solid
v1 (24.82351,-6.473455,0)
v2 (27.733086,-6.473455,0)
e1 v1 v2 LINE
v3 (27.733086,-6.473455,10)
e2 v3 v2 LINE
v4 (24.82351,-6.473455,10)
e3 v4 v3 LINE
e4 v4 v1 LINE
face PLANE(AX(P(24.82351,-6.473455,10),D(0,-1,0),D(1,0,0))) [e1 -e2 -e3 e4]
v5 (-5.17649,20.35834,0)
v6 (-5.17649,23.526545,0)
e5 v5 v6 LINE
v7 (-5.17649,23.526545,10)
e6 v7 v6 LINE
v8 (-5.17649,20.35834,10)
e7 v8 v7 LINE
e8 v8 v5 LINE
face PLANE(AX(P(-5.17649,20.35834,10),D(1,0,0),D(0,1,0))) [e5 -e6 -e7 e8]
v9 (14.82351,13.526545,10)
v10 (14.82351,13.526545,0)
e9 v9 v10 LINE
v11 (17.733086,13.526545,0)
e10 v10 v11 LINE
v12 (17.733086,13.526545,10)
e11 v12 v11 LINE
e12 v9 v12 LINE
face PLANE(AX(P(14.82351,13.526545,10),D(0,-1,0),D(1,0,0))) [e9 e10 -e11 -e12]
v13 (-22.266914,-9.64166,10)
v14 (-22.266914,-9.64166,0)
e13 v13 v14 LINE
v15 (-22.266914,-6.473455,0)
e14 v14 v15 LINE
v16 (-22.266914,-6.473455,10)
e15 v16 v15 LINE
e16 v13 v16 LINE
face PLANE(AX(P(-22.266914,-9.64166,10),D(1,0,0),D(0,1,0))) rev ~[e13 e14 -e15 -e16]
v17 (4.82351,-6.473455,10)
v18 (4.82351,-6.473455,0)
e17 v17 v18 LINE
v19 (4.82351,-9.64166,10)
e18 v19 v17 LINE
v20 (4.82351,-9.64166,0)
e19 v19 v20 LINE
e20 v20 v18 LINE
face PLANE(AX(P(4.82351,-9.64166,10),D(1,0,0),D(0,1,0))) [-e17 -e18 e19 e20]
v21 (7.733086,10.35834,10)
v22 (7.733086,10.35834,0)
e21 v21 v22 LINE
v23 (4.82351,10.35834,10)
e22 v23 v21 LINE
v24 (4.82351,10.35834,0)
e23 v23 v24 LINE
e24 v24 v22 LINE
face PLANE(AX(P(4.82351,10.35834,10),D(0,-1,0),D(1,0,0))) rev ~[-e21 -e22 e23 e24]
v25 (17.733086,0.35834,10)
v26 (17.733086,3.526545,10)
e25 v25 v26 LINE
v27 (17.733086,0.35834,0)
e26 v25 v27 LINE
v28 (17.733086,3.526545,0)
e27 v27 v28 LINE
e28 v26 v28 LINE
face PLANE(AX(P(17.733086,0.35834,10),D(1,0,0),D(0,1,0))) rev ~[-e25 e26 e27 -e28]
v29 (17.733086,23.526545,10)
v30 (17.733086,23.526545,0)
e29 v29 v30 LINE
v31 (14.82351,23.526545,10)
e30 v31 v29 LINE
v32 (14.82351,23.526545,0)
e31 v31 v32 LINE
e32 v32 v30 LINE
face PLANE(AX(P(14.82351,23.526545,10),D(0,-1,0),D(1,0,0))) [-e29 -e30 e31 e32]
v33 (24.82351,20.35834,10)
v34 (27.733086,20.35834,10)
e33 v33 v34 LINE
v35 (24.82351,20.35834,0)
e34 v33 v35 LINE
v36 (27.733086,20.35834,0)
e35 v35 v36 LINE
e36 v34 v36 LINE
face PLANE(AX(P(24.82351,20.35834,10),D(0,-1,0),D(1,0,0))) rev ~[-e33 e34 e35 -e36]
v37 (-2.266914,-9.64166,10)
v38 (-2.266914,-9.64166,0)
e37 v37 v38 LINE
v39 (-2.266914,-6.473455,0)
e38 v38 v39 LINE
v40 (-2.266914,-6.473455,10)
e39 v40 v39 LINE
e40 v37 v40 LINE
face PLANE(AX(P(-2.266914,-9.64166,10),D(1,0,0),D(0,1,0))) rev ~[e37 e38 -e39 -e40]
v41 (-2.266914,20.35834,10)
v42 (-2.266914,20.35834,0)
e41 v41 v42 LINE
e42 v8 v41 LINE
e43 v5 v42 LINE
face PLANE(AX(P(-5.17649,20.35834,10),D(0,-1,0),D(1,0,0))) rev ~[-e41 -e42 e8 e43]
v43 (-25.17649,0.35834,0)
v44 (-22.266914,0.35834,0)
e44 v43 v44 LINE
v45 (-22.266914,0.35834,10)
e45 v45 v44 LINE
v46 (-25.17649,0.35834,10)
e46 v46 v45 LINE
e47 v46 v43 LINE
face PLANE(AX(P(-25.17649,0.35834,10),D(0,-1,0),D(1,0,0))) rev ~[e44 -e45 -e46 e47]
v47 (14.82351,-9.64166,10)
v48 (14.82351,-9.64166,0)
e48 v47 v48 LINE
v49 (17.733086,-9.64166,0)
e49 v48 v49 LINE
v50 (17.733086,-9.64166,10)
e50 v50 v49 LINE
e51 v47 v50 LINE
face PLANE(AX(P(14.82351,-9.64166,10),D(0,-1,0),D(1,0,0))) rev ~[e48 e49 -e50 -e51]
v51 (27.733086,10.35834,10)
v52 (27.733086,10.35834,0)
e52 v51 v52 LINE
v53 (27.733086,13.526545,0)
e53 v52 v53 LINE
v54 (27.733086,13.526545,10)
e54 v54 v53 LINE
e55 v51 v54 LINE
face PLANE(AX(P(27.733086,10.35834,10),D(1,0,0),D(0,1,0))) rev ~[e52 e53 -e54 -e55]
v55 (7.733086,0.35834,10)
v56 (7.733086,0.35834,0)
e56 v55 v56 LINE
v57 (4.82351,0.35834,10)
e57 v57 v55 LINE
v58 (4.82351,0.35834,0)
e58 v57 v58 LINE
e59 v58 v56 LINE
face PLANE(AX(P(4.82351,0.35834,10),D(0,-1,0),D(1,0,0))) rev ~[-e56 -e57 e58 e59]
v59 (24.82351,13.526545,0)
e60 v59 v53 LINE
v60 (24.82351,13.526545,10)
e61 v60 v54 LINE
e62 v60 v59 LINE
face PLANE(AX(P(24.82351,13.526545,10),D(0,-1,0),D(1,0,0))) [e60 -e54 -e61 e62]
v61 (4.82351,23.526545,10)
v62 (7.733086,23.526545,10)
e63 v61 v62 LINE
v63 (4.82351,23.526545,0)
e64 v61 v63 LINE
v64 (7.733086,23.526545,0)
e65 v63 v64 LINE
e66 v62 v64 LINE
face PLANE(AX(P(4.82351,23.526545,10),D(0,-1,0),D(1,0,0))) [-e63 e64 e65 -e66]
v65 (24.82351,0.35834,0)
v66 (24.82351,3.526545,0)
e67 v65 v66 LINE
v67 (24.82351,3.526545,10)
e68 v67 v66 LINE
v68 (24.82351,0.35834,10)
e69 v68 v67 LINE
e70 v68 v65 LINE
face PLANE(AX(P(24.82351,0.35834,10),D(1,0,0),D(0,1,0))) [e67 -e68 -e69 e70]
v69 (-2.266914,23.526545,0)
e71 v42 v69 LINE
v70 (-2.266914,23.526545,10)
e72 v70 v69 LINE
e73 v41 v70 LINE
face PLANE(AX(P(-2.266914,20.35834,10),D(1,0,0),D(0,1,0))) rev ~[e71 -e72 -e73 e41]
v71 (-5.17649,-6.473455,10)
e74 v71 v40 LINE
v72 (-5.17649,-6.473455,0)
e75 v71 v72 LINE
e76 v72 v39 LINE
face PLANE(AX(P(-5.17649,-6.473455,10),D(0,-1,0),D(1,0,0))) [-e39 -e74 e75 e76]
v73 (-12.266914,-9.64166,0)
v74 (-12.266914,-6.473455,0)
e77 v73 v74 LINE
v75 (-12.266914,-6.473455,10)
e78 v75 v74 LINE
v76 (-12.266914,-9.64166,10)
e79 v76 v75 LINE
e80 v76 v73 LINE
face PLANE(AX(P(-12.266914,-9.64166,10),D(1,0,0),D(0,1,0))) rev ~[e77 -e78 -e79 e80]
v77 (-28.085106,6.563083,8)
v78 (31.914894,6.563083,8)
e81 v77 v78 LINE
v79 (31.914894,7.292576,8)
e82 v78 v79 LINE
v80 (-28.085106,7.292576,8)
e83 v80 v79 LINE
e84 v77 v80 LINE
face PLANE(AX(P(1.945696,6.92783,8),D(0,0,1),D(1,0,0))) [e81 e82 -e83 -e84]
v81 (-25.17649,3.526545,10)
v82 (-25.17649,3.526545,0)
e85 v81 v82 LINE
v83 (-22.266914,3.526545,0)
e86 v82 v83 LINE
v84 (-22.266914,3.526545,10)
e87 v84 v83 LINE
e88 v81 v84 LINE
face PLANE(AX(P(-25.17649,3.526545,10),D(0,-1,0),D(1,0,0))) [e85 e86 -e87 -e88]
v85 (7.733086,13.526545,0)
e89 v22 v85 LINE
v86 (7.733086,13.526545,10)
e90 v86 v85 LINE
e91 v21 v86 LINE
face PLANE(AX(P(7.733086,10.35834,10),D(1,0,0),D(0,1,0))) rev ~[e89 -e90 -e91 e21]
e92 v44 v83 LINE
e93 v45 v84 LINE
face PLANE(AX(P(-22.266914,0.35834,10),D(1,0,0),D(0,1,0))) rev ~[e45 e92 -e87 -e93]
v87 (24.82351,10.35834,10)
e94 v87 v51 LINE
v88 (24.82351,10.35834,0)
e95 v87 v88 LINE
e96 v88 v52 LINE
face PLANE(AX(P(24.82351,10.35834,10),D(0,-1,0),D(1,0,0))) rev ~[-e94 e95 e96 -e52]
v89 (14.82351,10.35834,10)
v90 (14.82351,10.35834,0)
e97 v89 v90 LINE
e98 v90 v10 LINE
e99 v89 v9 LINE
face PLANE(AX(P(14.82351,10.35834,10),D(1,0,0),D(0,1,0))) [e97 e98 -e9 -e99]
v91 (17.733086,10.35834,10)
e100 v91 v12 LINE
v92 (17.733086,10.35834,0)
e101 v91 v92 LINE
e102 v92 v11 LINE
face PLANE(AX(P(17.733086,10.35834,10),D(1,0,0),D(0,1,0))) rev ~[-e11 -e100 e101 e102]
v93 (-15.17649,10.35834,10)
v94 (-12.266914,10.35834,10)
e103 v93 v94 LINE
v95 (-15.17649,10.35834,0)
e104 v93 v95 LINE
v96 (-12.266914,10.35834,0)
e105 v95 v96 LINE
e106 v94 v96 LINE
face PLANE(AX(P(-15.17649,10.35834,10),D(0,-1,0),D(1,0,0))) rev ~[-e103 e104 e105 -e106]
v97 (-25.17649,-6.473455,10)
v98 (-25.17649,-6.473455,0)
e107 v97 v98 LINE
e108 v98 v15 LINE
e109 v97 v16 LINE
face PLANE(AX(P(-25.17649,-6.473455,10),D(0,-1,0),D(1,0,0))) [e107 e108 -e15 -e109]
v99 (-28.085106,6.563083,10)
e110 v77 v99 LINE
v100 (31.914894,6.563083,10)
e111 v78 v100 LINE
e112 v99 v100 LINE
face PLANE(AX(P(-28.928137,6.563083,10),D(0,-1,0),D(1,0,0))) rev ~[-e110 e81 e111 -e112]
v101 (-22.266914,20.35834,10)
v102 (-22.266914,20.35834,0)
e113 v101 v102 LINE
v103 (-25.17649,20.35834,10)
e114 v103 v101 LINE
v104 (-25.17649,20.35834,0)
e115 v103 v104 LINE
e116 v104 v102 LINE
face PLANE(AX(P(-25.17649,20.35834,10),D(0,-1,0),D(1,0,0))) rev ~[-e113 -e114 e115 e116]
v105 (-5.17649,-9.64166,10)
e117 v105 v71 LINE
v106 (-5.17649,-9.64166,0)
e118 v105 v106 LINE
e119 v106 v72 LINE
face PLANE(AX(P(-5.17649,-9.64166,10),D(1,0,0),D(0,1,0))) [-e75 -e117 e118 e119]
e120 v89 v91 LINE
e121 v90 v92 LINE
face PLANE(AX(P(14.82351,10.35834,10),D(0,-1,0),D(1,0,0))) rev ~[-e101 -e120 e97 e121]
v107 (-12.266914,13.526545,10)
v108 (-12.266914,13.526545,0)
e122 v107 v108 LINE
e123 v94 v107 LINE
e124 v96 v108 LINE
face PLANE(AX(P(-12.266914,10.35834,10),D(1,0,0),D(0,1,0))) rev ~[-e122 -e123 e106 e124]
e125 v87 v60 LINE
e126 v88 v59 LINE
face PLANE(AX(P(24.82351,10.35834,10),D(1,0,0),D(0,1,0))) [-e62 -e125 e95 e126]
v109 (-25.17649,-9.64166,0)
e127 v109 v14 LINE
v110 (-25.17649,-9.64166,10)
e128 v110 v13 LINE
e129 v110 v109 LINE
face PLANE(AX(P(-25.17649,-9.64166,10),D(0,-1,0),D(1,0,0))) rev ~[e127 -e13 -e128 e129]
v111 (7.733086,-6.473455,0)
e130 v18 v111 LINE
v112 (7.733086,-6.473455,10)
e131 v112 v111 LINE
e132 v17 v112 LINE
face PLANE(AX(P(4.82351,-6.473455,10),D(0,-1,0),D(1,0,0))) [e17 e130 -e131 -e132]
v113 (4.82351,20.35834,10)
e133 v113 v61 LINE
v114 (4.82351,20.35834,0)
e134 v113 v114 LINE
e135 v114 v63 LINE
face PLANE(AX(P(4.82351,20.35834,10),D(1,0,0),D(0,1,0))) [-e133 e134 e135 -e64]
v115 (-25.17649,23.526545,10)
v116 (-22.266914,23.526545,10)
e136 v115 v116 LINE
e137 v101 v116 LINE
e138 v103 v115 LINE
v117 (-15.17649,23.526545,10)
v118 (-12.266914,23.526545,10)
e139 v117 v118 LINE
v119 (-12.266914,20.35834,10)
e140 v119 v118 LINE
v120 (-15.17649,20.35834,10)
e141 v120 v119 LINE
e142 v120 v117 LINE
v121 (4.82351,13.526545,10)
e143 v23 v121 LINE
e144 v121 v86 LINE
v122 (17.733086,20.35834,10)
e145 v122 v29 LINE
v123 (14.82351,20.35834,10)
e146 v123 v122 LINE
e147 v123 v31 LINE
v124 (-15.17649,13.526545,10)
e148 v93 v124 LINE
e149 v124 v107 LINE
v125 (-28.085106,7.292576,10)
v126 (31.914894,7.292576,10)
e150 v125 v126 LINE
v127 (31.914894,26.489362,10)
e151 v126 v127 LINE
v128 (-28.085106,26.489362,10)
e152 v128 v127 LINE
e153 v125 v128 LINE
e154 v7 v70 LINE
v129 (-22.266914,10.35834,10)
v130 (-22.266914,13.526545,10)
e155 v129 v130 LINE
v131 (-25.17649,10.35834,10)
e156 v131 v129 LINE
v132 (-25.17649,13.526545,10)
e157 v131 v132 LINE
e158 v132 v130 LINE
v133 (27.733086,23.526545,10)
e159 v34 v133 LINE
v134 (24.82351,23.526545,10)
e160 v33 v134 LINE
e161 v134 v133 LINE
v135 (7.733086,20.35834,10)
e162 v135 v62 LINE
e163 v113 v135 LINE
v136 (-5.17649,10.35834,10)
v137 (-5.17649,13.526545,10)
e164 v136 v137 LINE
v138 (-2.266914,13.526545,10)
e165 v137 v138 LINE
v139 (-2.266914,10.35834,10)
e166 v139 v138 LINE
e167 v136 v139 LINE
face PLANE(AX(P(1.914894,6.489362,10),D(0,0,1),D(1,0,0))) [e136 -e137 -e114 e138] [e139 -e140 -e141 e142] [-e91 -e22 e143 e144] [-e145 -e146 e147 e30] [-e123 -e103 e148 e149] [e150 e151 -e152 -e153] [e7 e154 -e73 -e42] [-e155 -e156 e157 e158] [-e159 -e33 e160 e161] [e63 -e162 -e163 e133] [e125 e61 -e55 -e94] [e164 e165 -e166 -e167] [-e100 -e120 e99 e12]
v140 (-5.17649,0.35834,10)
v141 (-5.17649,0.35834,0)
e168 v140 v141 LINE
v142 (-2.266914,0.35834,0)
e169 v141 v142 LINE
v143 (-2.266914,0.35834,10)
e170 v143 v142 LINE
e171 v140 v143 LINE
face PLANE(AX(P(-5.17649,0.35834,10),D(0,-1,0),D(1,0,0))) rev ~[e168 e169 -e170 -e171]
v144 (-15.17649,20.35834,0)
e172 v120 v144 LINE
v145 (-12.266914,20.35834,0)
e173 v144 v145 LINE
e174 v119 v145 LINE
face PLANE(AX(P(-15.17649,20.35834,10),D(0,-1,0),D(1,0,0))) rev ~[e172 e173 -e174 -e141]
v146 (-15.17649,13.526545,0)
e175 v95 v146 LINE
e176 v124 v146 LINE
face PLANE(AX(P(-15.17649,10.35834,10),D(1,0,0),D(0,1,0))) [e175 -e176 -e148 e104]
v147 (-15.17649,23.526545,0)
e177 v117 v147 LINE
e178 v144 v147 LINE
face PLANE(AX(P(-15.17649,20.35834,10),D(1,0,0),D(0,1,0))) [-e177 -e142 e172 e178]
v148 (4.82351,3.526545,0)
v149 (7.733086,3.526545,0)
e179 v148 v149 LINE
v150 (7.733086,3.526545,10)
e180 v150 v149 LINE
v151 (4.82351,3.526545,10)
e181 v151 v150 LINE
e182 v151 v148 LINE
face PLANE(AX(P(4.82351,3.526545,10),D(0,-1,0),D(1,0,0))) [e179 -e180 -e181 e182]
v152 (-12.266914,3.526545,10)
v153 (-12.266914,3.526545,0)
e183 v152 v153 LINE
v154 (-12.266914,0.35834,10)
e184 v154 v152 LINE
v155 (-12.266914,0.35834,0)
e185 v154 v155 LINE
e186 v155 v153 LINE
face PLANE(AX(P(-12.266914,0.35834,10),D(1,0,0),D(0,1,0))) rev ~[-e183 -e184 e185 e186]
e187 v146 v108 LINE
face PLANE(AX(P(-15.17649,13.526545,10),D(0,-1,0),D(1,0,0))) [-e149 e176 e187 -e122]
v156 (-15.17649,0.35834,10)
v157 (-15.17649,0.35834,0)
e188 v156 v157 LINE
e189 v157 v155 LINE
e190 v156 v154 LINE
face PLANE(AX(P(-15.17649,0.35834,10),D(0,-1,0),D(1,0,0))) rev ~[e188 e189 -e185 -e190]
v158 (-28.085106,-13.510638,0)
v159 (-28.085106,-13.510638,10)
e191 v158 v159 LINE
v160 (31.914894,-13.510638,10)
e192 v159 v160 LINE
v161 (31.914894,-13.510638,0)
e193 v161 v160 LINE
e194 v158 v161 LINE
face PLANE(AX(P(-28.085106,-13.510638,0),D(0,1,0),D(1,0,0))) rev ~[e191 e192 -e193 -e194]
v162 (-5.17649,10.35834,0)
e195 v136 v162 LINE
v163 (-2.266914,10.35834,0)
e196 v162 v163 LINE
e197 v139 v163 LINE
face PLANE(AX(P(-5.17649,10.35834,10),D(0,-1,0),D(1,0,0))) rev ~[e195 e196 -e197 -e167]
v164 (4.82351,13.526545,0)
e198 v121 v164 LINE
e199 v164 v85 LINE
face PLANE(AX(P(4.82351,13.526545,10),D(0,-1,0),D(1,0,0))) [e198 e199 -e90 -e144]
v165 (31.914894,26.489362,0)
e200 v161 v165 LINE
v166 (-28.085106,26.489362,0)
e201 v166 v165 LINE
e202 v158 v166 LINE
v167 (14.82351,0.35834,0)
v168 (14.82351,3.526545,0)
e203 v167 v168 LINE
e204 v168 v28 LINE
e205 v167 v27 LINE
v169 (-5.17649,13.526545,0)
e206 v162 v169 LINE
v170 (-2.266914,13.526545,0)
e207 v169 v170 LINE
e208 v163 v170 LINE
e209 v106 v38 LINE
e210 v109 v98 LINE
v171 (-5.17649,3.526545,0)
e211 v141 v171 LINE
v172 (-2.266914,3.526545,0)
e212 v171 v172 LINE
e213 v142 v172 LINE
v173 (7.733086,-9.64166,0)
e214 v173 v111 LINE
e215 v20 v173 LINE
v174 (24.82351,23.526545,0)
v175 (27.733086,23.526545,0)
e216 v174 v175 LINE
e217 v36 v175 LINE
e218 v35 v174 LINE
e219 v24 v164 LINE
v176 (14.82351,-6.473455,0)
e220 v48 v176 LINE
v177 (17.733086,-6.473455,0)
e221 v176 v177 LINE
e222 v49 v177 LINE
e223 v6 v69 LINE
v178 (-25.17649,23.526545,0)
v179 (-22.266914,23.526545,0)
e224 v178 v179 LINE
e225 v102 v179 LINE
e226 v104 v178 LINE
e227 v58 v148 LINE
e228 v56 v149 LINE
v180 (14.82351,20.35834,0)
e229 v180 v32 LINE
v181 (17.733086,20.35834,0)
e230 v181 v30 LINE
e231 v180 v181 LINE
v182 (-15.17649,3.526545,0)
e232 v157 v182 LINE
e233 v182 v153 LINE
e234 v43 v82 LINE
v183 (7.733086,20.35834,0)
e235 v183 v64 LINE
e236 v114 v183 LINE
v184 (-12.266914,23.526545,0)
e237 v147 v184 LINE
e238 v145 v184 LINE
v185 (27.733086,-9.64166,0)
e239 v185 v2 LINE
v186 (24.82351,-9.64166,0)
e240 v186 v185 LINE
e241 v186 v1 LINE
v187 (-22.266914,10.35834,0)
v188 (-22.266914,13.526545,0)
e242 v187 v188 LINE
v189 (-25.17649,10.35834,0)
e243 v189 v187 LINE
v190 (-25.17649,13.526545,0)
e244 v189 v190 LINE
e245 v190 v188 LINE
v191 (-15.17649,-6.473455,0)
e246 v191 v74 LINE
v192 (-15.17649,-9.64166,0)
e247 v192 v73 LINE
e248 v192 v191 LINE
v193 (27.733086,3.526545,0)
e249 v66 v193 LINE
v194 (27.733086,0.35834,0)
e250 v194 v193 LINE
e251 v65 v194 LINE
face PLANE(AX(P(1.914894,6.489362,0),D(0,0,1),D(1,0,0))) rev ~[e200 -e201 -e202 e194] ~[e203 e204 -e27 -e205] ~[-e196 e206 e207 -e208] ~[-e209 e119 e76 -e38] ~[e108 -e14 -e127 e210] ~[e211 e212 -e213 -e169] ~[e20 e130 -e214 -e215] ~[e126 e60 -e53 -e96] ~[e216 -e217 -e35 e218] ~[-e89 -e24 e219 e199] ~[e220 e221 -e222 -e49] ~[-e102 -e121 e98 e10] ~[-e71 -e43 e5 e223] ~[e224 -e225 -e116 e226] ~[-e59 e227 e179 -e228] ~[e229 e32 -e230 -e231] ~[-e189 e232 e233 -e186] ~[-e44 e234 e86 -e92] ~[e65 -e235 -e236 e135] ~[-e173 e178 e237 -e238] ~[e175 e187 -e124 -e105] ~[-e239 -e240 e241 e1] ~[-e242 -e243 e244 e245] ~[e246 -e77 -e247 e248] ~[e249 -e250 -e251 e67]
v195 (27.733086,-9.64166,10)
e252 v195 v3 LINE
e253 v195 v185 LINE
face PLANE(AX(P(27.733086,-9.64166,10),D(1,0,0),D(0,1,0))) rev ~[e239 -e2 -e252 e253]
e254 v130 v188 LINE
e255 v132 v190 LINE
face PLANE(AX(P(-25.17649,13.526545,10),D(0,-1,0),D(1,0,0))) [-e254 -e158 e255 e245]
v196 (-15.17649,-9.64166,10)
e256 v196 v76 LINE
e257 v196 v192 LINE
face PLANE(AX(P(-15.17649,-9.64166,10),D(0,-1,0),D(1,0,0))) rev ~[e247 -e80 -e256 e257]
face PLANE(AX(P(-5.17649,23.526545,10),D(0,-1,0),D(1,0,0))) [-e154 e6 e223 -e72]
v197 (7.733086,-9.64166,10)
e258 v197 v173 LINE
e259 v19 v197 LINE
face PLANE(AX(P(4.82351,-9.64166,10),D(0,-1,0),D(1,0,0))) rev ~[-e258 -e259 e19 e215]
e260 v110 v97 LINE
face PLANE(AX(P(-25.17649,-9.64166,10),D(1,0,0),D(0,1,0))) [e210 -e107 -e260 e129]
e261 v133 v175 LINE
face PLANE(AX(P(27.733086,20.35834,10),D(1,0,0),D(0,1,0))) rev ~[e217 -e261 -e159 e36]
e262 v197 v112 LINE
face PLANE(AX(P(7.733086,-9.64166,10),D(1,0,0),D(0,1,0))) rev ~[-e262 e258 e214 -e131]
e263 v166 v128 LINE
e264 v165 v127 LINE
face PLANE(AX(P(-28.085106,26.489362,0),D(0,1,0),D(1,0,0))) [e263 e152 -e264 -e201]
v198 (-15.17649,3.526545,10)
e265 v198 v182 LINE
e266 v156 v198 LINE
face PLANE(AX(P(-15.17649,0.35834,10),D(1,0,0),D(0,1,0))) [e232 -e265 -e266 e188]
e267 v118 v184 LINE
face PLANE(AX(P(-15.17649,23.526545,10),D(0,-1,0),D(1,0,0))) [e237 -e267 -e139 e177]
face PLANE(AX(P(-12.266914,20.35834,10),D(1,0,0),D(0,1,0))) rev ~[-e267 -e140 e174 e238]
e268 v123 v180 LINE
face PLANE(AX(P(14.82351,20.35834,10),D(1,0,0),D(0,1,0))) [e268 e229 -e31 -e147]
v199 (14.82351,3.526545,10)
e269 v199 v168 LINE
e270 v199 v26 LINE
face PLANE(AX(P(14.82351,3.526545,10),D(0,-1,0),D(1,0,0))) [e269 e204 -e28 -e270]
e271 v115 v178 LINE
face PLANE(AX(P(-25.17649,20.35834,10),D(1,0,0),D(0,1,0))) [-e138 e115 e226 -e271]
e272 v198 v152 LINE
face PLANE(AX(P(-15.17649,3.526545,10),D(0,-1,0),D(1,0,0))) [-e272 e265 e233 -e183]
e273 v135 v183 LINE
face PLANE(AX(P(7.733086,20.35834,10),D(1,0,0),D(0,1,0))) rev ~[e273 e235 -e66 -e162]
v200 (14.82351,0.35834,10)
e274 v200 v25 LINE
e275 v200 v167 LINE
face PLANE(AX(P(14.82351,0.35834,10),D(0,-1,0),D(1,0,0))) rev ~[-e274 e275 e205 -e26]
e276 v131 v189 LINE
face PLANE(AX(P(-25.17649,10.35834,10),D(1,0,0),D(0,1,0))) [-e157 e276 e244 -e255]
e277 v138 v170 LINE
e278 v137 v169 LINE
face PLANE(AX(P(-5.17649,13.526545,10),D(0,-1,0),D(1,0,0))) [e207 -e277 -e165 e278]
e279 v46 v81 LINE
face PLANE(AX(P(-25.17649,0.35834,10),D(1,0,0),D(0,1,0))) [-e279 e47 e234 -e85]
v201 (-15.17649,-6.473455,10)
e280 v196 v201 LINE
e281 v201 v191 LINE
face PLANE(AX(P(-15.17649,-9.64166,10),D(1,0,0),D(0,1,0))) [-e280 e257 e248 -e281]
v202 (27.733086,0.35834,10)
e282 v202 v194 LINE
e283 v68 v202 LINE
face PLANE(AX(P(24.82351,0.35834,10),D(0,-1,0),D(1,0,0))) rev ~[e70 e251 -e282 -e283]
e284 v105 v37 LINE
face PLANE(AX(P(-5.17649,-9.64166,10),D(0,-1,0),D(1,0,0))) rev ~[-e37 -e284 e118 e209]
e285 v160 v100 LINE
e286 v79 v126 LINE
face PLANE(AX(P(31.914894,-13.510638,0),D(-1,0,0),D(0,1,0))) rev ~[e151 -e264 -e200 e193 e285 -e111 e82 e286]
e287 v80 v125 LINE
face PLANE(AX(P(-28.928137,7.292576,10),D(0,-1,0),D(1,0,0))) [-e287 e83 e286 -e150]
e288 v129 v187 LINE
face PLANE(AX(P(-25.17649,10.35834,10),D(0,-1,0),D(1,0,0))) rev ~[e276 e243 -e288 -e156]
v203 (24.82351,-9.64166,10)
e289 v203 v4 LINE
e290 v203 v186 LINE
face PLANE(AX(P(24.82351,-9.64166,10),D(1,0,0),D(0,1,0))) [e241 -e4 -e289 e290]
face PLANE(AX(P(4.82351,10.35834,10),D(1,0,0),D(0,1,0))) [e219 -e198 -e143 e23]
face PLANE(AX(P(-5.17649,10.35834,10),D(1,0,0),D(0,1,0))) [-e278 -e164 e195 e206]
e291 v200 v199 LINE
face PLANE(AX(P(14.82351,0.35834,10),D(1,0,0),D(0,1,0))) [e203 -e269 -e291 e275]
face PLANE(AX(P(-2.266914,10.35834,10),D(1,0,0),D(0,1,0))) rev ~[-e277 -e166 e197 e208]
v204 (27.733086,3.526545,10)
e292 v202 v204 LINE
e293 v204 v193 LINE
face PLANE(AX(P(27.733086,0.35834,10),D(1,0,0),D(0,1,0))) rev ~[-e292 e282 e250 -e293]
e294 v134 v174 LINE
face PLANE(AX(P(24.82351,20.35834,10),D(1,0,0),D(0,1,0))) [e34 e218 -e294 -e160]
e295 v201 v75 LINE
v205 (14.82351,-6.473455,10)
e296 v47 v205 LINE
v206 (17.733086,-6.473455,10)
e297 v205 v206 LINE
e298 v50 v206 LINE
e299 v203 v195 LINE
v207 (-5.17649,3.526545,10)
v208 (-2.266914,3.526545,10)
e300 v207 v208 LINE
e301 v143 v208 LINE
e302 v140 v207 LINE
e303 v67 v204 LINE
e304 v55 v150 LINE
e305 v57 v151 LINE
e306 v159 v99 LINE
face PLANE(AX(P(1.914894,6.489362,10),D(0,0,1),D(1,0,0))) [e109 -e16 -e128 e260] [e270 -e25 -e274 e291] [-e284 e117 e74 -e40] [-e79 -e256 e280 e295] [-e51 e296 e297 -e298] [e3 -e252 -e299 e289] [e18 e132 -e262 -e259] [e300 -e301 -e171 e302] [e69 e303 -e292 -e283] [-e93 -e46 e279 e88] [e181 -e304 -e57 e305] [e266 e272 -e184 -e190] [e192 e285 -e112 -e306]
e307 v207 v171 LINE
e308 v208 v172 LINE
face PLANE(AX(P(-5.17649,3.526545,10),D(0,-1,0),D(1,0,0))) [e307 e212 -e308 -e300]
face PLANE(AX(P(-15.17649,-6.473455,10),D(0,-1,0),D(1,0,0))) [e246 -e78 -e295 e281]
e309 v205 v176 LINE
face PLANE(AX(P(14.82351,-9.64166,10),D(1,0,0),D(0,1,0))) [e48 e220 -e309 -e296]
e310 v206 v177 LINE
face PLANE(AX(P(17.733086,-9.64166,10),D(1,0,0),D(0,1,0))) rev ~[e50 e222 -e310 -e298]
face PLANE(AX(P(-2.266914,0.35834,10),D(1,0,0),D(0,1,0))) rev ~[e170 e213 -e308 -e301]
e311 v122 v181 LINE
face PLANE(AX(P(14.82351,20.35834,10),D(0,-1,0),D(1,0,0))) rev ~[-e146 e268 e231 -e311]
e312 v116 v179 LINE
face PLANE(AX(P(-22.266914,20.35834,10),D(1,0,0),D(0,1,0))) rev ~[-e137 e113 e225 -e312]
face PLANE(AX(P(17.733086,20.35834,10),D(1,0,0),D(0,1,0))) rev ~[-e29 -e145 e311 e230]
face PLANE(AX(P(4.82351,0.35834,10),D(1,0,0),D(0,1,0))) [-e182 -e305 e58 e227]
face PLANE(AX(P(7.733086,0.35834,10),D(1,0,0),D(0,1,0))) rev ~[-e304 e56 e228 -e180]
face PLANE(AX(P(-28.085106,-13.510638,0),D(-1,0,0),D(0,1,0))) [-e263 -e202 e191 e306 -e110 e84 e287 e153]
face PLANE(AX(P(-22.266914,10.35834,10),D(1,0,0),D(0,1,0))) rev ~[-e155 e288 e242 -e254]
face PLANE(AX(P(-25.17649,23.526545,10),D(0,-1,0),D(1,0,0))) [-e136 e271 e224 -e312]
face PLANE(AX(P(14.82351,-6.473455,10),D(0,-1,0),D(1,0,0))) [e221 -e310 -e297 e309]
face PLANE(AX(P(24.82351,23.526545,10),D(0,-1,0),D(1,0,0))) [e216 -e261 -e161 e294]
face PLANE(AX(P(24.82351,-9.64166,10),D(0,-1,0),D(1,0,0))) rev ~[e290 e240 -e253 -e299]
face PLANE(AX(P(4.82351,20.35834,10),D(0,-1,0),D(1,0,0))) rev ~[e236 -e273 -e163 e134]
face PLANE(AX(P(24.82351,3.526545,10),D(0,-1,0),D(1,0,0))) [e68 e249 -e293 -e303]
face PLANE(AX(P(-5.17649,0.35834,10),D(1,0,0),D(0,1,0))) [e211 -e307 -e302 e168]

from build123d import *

# Parameters (mm, degrees)
SKETCH1_W           = 60
SKETCH1_H           = 40
BOSS_EXTRUDE1_DEPTH = 10
SKETCH2_W           = 2.909575839
SKETCH2_H           = 3.168204802
CUT_EXTRUDE1_DEPTH  = 10
SKETCH3_W           = 61.747665015
SKETCH3_H           = 0.72949372
CUT_EXTRUDE2_DEPTH  = 2


with BuildPart() as part:
    # Sketch1 → Boss-Extrude1 (new body)
    with BuildSketch(Plane.XY):
        with Locations((1.914893617, 6.489361702)):
            Rectangle(SKETCH1_W, SKETCH1_H)
    extrude(amount=BOSS_EXTRUDE1_DEPTH)

    # Sketch2 → Cut-Extrude1 (cut)
    with BuildSketch(Plane.XY.offset(10)):
        with Locations((-13.721702382, 21.942442266)):
            Rectangle(SKETCH2_W, SKETCH2_H)
        with Locations((-23.721702382, 21.942442266)):
            Rectangle(SKETCH2_W, SKETCH2_H)
        with Locations((-3.721702382, 21.942442266)):
            Rectangle(SKETCH2_W, SKETCH2_H)
        with Locations((6.278297618, 21.942442266)):
            Rectangle(SKETCH2_W, SKETCH2_H)
        with Locations((16.278297619, 21.942442266)):
            Rectangle(SKETCH2_W, SKETCH2_H)
        with Locations((26.278297619, 21.942442266)):
            Rectangle(SKETCH2_W, SKETCH2_H)
        with Locations((-13.721702382, 11.942442266)):
            Rectangle(SKETCH2_W, SKETCH2_H)
        with Locations((-3.721702382, 11.942442266)):
            Rectangle(SKETCH2_W, SKETCH2_H)
        with Locations((6.278297618, 11.942442266)):
            Rectangle(SKETCH2_W, SKETCH2_H)
        with Locations((16.278297619, 11.942442266)):
            Rectangle(SKETCH2_W, SKETCH2_H)
        with Locations((26.278297619, 11.942442266)):
            Rectangle(SKETCH2_W, SKETCH2_H)
        with Locations((-13.721702382, 1.942442266)):
            Rectangle(SKETCH2_W, SKETCH2_H)
        with Locations((-3.721702382, 1.942442266)):
            Rectangle(SKETCH2_W, SKETCH2_H)
        with Locations((6.278297618, 1.942442266)):
            Rectangle(SKETCH2_W, SKETCH2_H)
        with Locations((16.278297619, 1.942442266)):
            Rectangle(SKETCH2_W, SKETCH2_H)
        with Locations((26.278297619, 1.942442266)):
            Rectangle(SKETCH2_W, SKETCH2_H)
        with Locations((-13.721702382, -8.057557734)):
            Rectangle(SKETCH2_W, SKETCH2_H)
        with Locations((-3.721702382, -8.057557734)):
            Rectangle(SKETCH2_W, SKETCH2_H)
        with Locations((6.278297618, -8.057557734)):
            Rectangle(SKETCH2_W, SKETCH2_H)
        with Locations((16.278297619, -8.057557734)):
            Rectangle(SKETCH2_W, SKETCH2_H)
        with Locations((26.278297619, -8.057557734)):
            Rectangle(SKETCH2_W, SKETCH2_H)
        with Locations((-23.721702382, 11.942442266)):
            Rectangle(SKETCH2_W, SKETCH2_H)
        with Locations((-23.721702382, 1.942442266)):
            Rectangle(SKETCH2_W, SKETCH2_H)
        with Locations((-23.721702382, -8.057557734)):
            Rectangle(SKETCH2_W, SKETCH2_H)
    extrude(amount=-CUT_EXTRUDE1_DEPTH, mode=Mode.SUBTRACT)

    # Sketch3 → Cut-Extrude2 (cut)
    with BuildSketch(Plane.XY.offset(10)):
        with Locations((1.945695922, 6.927829606)):
            Rectangle(SKETCH3_W, SKETCH3_H)
    extrude(amount=-CUT_EXTRUDE2_DEPTH, mode=Mode.SUBTRACT)


solid = part.part
